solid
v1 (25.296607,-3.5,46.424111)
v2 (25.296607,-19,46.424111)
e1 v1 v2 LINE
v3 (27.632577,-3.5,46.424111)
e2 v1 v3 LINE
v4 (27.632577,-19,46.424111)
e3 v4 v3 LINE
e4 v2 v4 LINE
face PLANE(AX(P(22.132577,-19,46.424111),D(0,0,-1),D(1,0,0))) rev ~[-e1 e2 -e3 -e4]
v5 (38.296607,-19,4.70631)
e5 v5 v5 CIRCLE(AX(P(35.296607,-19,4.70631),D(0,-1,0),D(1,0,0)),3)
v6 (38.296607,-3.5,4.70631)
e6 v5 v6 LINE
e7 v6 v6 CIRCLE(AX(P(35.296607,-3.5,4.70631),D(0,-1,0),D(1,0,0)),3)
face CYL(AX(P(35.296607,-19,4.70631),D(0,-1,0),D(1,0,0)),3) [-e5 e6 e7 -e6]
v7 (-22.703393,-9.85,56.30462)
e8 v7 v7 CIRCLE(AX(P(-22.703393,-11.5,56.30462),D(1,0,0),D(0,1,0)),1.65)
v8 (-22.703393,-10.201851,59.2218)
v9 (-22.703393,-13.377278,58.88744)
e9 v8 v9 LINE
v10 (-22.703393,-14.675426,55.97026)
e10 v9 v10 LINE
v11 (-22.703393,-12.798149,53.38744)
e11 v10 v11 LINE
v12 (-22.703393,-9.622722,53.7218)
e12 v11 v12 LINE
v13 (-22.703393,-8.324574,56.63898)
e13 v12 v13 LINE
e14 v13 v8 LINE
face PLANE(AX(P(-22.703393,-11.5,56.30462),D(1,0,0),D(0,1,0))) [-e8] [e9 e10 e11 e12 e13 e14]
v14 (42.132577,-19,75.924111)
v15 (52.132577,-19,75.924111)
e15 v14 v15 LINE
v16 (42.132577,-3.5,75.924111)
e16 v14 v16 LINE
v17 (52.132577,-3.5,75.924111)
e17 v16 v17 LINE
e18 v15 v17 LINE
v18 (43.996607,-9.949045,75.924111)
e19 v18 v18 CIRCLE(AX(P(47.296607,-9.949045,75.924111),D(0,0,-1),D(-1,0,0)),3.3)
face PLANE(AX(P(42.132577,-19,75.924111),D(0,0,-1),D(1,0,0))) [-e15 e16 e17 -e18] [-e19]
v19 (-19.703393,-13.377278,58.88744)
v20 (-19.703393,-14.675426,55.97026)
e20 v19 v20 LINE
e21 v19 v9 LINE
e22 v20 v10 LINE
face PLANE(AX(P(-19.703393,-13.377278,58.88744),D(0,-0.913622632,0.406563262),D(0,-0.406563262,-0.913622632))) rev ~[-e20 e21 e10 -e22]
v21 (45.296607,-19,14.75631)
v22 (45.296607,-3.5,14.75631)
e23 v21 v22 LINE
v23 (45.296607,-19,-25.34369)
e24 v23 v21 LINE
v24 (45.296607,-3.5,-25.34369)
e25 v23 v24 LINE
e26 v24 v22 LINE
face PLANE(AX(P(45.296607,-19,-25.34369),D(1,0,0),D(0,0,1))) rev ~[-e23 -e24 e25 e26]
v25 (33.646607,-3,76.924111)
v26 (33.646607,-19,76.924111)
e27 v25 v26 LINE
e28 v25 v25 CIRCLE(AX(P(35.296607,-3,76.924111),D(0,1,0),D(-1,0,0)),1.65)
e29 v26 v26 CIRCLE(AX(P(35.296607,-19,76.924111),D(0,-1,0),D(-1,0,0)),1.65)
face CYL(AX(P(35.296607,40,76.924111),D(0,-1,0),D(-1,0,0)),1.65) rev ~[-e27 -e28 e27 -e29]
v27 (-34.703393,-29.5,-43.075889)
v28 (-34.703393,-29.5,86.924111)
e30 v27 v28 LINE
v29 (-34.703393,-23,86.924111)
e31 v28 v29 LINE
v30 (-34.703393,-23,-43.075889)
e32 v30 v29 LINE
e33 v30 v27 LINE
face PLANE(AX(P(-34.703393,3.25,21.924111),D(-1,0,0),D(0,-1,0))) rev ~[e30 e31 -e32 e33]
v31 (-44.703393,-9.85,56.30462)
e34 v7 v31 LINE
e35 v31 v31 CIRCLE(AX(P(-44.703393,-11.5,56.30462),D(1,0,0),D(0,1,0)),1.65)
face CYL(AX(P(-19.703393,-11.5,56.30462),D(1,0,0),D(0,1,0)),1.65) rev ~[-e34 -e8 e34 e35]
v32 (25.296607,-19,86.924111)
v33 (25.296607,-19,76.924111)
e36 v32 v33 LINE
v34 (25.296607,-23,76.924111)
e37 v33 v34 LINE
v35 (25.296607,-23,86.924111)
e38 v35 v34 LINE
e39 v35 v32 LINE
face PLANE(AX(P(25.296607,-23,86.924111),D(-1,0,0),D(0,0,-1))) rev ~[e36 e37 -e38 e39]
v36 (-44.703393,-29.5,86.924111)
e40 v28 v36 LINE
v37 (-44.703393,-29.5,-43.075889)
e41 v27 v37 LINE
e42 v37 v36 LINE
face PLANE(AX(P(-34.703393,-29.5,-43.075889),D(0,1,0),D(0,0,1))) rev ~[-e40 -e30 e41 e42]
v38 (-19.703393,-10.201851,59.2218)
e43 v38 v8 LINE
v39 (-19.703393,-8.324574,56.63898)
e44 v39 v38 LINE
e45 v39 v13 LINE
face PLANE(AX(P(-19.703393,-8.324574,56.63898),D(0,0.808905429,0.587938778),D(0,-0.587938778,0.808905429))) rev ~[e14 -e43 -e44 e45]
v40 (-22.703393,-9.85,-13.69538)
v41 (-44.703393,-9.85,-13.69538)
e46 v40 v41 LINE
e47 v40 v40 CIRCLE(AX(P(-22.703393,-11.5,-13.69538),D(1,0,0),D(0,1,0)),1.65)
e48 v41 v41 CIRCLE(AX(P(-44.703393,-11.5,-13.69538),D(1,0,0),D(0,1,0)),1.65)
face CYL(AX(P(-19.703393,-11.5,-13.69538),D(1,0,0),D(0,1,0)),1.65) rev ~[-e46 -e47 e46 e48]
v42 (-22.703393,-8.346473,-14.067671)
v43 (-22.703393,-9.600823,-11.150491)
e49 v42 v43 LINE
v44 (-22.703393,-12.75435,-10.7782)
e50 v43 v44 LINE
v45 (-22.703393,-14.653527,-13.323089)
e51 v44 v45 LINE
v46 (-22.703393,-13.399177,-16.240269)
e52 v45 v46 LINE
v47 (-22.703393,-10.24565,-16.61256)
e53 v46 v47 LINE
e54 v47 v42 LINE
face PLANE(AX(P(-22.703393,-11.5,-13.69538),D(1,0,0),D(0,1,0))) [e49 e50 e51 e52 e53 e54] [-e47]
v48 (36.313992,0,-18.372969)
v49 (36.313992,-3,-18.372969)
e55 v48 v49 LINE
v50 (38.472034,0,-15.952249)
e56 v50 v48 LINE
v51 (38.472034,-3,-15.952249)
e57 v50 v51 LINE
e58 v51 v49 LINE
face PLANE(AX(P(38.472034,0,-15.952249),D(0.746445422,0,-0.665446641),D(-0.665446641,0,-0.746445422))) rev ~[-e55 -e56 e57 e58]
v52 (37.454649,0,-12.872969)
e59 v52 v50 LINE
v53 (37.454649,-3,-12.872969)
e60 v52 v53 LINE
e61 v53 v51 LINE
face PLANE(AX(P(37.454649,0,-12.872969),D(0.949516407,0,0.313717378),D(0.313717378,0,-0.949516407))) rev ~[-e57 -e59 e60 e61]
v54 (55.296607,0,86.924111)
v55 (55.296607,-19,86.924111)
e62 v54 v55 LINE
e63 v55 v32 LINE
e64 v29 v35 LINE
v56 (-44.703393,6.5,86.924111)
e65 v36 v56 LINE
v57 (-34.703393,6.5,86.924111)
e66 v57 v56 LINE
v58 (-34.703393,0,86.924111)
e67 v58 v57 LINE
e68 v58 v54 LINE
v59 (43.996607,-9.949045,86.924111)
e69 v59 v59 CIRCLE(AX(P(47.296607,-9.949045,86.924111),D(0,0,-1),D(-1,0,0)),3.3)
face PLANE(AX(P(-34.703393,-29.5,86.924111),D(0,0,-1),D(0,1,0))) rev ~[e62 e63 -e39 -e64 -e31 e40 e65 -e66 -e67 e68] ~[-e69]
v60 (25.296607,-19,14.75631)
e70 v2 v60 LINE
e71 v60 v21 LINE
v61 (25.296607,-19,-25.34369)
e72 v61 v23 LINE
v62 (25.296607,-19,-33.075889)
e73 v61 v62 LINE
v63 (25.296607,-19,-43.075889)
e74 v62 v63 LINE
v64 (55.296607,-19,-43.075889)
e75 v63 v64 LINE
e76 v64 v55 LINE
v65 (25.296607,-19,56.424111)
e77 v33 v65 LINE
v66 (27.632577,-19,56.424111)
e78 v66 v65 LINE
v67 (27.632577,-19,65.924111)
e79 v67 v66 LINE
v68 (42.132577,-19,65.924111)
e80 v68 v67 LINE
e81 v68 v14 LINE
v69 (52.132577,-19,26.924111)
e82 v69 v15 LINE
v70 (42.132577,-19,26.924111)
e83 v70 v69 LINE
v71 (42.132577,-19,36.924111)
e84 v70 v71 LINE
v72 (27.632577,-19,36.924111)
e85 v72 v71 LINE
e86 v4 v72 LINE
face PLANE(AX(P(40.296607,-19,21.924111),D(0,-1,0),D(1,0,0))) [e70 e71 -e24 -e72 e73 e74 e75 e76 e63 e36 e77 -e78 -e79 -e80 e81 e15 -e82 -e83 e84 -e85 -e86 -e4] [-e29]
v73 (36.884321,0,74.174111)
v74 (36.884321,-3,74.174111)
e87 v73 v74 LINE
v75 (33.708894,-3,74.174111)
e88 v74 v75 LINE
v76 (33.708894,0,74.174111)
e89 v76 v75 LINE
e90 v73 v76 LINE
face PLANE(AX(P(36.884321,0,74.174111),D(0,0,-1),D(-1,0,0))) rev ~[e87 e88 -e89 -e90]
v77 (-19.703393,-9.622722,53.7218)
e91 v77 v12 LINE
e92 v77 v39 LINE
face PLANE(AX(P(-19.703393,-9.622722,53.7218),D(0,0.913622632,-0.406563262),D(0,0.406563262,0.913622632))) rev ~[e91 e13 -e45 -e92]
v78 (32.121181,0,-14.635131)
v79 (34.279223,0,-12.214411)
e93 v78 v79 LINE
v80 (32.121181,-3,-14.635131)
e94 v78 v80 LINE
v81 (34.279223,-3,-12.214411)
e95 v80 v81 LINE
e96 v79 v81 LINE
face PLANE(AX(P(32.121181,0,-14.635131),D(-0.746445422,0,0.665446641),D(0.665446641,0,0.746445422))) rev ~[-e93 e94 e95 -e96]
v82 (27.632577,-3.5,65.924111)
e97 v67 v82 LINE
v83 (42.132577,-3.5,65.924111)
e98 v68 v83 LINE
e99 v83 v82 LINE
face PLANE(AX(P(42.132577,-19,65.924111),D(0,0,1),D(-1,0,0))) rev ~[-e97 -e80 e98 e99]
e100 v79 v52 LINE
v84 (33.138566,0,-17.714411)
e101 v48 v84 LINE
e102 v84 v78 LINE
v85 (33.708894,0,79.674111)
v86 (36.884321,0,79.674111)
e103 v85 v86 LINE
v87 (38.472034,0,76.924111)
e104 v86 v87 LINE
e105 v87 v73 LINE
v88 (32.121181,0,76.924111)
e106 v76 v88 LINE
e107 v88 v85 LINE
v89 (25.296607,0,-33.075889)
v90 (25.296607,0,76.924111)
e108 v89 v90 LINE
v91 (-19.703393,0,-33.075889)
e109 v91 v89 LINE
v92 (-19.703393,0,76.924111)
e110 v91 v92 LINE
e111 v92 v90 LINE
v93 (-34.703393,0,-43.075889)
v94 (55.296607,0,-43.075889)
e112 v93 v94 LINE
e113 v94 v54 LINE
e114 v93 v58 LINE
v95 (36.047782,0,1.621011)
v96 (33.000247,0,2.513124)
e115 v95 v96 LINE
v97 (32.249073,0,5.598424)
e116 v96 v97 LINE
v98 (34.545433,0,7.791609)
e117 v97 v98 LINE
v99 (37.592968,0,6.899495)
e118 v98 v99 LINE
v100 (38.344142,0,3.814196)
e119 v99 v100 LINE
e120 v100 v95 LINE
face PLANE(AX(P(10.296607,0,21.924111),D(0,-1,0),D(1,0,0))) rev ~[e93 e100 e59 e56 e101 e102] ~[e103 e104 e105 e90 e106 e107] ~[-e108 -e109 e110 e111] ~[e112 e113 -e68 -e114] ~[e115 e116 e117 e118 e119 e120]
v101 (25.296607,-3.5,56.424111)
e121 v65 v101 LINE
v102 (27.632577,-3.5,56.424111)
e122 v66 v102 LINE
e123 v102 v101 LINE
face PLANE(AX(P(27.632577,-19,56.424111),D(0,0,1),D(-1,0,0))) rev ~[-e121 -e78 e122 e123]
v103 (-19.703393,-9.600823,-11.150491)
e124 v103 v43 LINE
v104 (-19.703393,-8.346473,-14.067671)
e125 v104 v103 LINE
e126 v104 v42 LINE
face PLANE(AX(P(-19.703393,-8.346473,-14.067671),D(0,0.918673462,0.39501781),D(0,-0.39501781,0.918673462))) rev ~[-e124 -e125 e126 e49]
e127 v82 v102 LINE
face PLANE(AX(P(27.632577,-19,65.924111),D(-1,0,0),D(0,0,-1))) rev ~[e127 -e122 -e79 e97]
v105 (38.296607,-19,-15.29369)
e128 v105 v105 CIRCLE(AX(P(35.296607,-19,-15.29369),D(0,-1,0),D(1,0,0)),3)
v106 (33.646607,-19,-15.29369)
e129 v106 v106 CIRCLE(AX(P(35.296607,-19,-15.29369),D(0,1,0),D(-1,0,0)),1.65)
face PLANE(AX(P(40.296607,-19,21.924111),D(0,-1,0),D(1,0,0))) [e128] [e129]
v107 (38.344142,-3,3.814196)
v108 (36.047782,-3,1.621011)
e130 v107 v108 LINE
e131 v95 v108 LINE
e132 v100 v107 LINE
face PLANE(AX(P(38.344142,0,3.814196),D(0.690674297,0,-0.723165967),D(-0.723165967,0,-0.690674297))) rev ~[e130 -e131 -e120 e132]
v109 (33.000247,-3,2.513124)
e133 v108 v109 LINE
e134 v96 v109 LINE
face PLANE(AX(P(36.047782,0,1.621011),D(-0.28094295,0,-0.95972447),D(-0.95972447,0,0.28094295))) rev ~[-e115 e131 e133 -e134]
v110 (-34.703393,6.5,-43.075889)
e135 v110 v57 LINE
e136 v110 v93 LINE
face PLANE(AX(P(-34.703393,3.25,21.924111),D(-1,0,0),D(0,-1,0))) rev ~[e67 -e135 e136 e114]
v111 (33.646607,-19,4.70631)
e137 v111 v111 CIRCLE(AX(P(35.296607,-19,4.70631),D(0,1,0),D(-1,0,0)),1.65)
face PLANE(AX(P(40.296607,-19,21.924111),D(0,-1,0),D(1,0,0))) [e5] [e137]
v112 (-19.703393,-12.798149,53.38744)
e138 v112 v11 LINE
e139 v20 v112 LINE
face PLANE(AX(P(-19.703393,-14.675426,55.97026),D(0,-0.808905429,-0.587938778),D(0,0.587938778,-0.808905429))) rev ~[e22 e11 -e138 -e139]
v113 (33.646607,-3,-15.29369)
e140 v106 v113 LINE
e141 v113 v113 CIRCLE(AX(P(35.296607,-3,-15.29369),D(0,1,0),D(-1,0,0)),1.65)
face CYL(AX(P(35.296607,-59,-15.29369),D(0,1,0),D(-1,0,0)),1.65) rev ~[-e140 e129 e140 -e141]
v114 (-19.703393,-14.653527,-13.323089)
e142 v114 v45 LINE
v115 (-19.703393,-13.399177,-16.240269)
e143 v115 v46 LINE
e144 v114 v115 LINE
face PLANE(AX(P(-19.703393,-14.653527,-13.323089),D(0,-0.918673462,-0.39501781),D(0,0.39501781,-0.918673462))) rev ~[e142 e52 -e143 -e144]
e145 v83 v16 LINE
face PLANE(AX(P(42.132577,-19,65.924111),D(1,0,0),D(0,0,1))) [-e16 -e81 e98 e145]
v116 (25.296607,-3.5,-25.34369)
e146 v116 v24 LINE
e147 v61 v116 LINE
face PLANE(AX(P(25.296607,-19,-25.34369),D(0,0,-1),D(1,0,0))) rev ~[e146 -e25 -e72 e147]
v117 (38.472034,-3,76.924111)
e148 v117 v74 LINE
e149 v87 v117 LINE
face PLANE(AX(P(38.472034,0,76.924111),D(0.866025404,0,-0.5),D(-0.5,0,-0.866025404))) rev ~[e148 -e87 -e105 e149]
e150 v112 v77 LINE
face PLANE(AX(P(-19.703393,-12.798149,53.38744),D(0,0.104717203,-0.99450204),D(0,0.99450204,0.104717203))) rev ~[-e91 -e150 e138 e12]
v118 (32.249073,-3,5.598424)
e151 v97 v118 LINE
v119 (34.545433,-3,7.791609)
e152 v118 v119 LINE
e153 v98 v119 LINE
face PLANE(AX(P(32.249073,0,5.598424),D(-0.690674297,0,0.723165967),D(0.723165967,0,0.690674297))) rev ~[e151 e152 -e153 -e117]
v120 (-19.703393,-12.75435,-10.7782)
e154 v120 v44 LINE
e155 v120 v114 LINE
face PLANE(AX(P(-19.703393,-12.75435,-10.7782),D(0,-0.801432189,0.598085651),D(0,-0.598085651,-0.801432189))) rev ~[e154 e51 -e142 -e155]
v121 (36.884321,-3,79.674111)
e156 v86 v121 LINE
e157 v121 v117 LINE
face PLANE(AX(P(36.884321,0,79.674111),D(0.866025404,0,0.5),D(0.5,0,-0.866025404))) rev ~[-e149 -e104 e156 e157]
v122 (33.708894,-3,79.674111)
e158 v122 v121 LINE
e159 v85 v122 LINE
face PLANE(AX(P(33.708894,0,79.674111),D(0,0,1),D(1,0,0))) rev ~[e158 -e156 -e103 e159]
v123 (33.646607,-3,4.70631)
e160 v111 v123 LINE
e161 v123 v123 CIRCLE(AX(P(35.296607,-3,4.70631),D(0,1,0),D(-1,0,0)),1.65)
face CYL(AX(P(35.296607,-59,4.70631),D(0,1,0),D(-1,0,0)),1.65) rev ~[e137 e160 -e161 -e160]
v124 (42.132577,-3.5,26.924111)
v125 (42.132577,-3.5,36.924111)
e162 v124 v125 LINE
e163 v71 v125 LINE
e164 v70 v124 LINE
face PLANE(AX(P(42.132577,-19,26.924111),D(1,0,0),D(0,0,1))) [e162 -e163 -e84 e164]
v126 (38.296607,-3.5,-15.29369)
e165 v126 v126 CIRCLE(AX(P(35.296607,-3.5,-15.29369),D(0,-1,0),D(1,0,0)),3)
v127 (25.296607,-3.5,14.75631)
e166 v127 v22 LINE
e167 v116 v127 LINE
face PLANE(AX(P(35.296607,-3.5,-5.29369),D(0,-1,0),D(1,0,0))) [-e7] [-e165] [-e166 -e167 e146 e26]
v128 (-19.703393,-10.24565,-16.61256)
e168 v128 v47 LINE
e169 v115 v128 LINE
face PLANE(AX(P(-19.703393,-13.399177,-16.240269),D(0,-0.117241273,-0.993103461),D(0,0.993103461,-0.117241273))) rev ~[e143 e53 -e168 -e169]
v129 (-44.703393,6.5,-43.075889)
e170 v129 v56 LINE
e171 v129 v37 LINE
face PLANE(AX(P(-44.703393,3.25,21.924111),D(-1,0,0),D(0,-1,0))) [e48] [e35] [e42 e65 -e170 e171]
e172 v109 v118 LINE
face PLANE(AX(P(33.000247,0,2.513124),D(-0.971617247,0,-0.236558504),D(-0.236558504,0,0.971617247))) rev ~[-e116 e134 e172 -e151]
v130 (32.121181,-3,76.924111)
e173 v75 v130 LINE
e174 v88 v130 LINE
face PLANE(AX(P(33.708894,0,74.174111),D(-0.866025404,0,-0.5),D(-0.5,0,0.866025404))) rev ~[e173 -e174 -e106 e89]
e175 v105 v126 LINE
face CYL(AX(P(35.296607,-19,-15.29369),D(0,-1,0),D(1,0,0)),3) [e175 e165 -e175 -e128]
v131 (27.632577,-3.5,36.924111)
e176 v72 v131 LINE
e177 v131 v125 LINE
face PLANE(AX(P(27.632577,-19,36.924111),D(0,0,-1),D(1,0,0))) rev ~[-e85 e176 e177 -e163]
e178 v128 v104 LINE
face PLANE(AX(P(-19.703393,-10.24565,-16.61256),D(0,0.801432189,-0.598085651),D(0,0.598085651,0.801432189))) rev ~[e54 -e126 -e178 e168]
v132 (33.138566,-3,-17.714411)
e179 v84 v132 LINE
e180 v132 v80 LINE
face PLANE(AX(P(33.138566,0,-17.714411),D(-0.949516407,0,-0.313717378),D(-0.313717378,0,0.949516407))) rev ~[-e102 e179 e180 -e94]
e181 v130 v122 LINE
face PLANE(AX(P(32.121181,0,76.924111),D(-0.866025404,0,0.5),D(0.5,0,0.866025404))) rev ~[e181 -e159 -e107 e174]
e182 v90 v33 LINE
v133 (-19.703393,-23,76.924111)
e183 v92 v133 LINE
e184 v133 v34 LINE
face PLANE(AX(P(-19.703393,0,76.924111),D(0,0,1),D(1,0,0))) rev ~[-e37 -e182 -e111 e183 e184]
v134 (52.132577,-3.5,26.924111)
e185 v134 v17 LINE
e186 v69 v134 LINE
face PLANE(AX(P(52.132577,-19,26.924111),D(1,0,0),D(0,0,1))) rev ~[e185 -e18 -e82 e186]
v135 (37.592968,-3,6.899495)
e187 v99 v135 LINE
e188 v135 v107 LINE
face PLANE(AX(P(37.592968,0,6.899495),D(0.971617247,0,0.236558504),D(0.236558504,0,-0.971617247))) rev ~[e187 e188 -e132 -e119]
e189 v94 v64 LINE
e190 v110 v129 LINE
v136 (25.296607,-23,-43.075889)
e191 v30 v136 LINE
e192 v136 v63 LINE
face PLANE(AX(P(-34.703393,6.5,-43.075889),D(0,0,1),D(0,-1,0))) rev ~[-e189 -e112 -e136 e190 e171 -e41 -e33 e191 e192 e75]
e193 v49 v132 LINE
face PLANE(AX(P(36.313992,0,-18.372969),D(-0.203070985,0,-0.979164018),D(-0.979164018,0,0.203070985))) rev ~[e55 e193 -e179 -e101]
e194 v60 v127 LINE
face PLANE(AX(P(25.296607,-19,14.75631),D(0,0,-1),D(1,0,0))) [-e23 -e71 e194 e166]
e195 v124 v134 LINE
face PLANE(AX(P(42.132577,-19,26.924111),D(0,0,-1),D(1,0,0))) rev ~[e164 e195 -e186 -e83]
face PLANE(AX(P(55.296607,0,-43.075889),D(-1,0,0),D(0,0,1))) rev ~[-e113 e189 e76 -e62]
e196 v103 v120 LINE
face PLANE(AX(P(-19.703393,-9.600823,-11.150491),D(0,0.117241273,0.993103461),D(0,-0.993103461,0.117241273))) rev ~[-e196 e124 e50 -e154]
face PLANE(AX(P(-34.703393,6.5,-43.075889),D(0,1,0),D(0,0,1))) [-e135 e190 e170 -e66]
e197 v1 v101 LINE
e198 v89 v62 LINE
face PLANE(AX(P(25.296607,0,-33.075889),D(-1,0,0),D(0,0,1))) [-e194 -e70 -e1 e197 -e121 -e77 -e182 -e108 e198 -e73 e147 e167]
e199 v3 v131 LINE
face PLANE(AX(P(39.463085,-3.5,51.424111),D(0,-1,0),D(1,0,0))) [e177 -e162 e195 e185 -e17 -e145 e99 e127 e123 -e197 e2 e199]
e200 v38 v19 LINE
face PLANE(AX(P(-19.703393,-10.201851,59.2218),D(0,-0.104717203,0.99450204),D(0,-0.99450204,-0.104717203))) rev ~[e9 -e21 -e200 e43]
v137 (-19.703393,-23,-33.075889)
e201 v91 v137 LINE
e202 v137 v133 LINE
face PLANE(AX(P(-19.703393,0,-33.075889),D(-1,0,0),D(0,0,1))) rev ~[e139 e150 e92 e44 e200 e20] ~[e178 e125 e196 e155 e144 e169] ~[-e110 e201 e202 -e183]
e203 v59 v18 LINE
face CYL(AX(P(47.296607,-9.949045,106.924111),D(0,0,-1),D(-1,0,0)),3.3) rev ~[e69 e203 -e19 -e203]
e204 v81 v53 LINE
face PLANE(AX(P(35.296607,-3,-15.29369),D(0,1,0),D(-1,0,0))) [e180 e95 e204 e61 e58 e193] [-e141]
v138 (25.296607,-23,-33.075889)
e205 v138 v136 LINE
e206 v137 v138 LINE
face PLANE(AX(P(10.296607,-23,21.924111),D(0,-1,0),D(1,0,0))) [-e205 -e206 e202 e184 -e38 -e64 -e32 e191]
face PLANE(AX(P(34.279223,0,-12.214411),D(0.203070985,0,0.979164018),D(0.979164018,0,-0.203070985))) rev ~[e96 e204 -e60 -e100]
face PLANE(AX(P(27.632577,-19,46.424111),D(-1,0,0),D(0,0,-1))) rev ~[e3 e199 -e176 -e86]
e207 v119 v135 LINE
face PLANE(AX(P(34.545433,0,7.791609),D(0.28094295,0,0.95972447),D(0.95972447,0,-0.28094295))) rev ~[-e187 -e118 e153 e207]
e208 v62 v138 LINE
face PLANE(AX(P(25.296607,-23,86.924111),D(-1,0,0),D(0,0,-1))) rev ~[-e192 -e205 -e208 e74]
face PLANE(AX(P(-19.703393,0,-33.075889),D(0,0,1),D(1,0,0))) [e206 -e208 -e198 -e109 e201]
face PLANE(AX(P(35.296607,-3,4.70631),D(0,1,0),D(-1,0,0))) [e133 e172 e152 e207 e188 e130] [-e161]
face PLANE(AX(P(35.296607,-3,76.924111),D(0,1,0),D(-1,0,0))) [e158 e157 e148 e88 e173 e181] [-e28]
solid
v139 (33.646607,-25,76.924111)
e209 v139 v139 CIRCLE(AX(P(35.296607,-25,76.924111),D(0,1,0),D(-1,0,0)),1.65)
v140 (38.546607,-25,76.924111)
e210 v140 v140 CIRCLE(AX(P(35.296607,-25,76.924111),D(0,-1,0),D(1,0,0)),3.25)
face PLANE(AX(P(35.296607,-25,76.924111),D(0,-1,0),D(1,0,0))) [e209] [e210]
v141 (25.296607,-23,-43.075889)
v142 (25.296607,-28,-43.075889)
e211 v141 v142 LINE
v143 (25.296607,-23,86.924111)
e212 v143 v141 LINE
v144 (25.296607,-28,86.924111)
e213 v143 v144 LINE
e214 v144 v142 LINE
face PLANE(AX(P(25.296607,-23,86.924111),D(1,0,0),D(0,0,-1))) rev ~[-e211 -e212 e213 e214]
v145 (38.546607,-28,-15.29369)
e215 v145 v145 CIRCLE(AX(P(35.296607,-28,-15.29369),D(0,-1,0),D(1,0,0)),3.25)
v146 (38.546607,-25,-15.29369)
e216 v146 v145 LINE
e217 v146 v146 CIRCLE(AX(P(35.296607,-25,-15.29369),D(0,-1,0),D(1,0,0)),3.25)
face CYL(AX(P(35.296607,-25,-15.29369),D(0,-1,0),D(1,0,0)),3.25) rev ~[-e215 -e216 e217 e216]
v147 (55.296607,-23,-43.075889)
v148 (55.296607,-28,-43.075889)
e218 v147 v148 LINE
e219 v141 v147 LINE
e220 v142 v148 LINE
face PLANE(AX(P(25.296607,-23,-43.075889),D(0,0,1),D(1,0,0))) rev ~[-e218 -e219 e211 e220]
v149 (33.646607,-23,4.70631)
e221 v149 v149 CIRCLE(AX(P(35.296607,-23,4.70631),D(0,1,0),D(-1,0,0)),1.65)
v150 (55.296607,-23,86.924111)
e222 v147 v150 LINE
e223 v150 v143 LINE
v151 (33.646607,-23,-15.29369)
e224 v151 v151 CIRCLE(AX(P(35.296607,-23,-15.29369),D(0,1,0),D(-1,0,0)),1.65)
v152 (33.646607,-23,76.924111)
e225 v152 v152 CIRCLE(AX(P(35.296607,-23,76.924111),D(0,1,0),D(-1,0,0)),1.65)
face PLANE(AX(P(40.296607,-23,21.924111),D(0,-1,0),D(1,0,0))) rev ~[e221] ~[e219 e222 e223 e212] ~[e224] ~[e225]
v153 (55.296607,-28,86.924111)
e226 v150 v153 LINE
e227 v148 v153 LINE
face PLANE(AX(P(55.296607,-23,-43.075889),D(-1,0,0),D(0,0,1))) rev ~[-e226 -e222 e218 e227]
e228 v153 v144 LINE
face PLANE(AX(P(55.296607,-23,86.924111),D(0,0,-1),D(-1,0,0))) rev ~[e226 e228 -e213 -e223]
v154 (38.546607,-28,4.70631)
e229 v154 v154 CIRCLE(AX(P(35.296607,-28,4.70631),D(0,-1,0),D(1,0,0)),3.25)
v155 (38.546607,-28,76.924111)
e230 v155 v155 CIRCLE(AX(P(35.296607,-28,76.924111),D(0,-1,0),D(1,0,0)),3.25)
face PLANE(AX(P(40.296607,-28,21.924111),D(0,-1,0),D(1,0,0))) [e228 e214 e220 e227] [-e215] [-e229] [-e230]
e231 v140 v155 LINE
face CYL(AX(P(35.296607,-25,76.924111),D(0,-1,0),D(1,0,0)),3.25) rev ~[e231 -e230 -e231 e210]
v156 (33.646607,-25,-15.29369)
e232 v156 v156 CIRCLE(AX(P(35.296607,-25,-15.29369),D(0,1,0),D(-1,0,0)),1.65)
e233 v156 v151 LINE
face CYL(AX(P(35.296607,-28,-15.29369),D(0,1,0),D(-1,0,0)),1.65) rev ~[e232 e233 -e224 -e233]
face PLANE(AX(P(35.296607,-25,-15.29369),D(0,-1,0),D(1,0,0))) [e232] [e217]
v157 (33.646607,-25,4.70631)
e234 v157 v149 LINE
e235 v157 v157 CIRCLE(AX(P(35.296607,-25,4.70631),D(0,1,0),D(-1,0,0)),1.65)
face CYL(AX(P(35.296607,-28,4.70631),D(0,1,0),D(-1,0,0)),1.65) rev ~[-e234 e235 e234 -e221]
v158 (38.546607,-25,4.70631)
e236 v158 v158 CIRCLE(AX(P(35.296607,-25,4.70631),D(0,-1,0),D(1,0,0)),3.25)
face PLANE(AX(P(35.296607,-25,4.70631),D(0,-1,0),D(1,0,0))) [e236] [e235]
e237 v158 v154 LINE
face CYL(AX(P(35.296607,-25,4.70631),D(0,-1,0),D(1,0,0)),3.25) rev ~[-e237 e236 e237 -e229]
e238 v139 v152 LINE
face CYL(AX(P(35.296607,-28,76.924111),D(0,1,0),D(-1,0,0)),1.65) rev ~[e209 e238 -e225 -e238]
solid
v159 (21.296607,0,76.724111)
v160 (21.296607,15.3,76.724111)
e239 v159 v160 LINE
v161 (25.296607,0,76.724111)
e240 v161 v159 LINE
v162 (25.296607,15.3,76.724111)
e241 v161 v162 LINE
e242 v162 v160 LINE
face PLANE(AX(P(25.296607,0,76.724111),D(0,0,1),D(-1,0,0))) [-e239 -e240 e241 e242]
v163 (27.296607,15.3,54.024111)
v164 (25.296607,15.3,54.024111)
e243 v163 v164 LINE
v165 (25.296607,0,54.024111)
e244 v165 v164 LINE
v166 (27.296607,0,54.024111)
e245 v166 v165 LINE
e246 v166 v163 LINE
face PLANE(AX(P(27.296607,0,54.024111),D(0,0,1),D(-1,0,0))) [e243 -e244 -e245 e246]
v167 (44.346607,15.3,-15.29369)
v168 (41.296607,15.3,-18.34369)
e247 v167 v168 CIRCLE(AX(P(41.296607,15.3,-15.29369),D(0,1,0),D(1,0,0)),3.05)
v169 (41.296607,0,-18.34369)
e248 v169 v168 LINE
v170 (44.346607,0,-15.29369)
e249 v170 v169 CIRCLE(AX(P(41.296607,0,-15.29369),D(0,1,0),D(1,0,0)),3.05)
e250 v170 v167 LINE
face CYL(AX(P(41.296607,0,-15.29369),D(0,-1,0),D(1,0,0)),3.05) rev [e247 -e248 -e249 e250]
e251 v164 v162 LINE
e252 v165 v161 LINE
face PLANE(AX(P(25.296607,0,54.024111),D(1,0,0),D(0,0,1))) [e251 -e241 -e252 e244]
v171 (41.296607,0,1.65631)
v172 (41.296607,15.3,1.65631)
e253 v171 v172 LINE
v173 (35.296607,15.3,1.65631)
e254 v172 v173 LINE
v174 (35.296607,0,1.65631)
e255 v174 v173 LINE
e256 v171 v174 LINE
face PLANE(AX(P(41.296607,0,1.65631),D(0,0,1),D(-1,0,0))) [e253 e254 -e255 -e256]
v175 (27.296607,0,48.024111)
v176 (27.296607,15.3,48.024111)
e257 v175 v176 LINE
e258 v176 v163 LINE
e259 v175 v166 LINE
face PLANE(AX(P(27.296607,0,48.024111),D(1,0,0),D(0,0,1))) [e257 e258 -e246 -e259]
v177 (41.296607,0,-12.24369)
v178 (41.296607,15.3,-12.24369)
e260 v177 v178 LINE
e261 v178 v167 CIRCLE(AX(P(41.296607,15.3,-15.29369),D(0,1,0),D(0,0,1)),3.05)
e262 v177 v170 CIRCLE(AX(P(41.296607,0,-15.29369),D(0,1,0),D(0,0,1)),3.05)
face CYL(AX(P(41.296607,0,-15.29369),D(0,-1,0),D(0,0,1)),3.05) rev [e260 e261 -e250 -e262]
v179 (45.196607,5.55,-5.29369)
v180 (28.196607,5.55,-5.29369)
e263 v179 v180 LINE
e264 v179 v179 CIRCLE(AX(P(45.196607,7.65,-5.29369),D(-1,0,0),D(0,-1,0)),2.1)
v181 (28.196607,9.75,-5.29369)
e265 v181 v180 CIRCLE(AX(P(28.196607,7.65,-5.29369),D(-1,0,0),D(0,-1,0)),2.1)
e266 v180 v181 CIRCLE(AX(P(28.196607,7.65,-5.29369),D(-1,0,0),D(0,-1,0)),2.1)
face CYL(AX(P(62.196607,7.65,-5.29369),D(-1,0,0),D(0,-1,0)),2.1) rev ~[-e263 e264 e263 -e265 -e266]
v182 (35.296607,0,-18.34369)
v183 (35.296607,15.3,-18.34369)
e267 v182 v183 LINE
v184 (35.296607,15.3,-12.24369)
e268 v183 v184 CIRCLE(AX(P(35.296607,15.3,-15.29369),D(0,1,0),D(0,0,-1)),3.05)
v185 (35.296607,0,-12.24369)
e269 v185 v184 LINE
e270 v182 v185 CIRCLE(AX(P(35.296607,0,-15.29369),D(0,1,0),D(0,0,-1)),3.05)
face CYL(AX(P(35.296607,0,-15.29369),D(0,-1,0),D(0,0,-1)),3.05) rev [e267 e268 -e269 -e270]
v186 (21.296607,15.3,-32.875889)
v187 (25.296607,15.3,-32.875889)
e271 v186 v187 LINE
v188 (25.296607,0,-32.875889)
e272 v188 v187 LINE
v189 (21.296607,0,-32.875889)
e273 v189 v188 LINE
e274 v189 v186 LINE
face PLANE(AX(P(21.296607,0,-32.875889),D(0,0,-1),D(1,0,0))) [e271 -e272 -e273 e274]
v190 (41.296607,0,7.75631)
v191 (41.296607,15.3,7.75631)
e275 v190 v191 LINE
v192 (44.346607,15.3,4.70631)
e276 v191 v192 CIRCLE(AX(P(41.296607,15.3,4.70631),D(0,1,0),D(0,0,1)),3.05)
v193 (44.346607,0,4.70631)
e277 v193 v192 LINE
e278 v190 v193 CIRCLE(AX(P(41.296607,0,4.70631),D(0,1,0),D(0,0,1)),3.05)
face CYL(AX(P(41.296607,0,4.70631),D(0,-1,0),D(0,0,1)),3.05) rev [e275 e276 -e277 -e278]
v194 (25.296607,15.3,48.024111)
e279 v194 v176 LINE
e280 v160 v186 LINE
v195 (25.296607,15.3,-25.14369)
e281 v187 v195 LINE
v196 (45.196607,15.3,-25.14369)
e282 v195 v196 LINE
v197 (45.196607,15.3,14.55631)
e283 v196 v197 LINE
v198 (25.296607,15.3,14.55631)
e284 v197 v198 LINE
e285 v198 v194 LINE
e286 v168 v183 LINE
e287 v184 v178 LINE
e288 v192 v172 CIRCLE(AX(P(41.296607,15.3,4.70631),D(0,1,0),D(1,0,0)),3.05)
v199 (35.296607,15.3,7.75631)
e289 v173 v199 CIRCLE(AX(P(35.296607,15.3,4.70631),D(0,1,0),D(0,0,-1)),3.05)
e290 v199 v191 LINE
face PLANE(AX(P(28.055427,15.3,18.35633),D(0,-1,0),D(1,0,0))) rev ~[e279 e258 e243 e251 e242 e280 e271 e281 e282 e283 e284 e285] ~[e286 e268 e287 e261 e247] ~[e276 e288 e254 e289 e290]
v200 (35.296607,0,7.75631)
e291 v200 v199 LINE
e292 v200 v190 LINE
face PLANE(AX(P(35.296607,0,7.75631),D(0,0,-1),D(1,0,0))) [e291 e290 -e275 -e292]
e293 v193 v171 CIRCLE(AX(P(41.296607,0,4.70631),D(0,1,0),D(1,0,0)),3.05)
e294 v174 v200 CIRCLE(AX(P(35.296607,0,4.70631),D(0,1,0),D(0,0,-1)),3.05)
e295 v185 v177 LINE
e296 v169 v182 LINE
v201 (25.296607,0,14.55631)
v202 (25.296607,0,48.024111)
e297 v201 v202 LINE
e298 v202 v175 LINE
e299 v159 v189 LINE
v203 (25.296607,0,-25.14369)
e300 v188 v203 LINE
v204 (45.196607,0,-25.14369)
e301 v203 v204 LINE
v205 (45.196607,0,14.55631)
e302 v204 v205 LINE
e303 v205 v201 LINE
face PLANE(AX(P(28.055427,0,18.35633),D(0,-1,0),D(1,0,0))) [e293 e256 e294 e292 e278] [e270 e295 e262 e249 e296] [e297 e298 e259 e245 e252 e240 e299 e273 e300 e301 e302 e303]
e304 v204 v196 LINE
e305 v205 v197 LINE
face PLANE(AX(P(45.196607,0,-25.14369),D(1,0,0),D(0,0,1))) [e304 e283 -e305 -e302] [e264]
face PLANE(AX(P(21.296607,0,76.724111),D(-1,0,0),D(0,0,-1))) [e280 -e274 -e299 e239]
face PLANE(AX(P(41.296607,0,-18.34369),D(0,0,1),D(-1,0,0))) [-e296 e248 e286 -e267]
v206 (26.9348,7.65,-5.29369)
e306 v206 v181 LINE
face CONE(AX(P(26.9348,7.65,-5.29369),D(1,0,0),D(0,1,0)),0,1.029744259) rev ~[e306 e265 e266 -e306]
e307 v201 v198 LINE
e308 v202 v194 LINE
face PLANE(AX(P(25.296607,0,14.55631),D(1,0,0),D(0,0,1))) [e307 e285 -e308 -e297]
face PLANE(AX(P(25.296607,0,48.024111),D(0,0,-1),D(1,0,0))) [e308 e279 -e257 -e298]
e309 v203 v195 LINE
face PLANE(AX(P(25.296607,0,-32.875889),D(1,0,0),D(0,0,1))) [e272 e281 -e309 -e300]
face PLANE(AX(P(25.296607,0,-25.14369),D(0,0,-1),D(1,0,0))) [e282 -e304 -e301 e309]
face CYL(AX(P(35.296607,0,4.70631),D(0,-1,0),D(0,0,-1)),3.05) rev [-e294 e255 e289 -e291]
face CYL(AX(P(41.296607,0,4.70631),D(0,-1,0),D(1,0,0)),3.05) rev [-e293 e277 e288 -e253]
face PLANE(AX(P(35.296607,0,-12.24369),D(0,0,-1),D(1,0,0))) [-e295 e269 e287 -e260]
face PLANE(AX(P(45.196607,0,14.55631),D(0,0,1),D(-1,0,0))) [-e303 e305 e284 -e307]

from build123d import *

# Parameters (mm, degrees)
F0_W            = 90
F0_H            = 130
F0_W_2          = 45
F0_H_2          = 110
F1_DEPTH        = 23
F2_W            = 6.5
F2_H            = 130
F2_W_2          = 23
F3_DEPTH        = 10
F5_DEPTH        = 4
F6_W            = 5.5
F6_H            = 10
F6_W_2          = 3.1640307605
F6_W_3          = 2.3359692395
F6_W_4          = 10
F6_W_5          = 20
F6_H_2          = 40.1
F6_R            = 3
F7_DEPTH        = 15.5
F9_D            = 3.3
F9_DEPTH        = 40
F9_TIP          = 0.9914200214
F10_D           = 3.3
F10_DEPTH       = 40
F10_TIP         = 0.9914200214
F12_D           = 3.3
F12_DEPTH       = 40
F12_TIP         = 0.9914200214
F14_DEPTH       = 15.3
F15_DEPTH       = 5
F17_D           = 3.3
F17_DEPTH       = 40
F17_CBORE_D     = 6.5
F17_CBORE_DEPTH = 3
F17_TIP         = 0.9914200214
F19_D           = 6.6
F19_DEPTH       = 20
F19_TIP         = 1.9828400428
F20_R           = 1.65
F21_DEPTH       = 3
F22_R           = 1.65
F23_DEPTH       = 3
F25_D           = 4.2
F25_DEPTH       = 17
F25_TIP         = 1.2618073


with BuildPart() as f1:
    # F0 (on Front) → F1 (new body)
    with BuildSketch(Plane.XZ):
        with Locations((10.2966074646, 21.924110651)):
            Rectangle(F0_W, F0_H)
        with Locations((2.7966074646, 21.924110651)):
            Rectangle(F0_W_2, F0_H_2, mode=Mode.SUBTRACT)
    extrude(amount=F1_DEPTH)

    # F2 (on face) → F3 (join)
    with BuildSketch(Plane(origin=(-34.7033925354, 0, 0), x_dir=(0, -1, 0), z_dir=(-1, 0, 0))):
        with Locations((-3.25, 21.924110651)):
            Rectangle(F2_W, F2_H)
        with Locations((11.5, 21.924110651)):
            Rectangle(F2_W_2, F2_H)
        with Locations((26.25, 21.924110651)):
            Rectangle(F2_W, F2_H)
    extrude(amount=F3_DEPTH)

    # F4 (on face) → F5 (cut)
    with BuildSketch(Plane.XZ.offset(23)):
        Polygon((55.2966074646, -43.075889349), (55.2966074646, 86.924110651), (25.2966074646, 86.924110651), (25.2966074646, 76.924110651), (25.2966074646, -33.075889349), (25.2966074646, -43.075889349), align=None)
    extrude(amount=-F5_DEPTH, mode=Mode.SUBTRACT)

    # F6 (on face) → F7 (cut)
    with BuildSketch(Plane.XZ.offset(19)):
        Polygon((42.132576704, 65.924110651), (27.632576704, 65.924110651), (27.632576704, 56.424110651), (33.132576704, 56.424110651), (33.132576704, 46.424110651), (27.632576704, 46.424110651), (27.632576704, 36.924110651), (42.132576704, 36.924110651), (52.132576704, 36.924110651), (52.132576704, 65.924110651), align=None)
        with Locations((30.382576704, 51.424110651)):
            Rectangle(F6_W, F6_H)
        with Locations((23.7145920843, 51.424110651)):
            Rectangle(F6_W_2, F6_H)
        with Locations((26.4645920843, 51.424110651)):
            Rectangle(F6_W_3, F6_H)
        with Locations((47.132576704, 70.924110651)):
            Rectangle(F6_W_4, F6_H)
        with Locations((47.132576704, 31.924110651)):
            Rectangle(F6_W_4, F6_H)
        with Locations((35.2966074646, -5.2936900675)):
            Rectangle(F6_W_5, F6_H_2)
        with Locations((35.2966074646, -15.2936900675)):
            Circle(F6_R, mode=Mode.SUBTRACT)
        with Locations((35.2966074646, 4.7063099325)):
            Circle(F6_R, mode=Mode.SUBTRACT)
    extrude(amount=-F7_DEPTH, mode=Mode.SUBTRACT)

    # F9
    with Locations(Plane.XZ.offset(19)):
        with Locations((35.2966074646, 4.7063099325), (35.2966074646, -15.2936900675)):
            Hole(F9_D / 2, depth=F9_DEPTH)
            with Locations((0, 0, -(F9_DEPTH + F9_TIP / 2))):  # 118° drill point
                Cone(0, F9_D / 2, F9_TIP, mode=Mode.SUBTRACT)

    # F10
    with Locations(Plane(origin=(0, 0, 0), x_dir=(1, 0, 0), z_dir=(0, 1, 0))):
        with Locations((35.2966074646, -76.924110651)):
            Hole(F10_D / 2, depth=F10_DEPTH)
            with Locations((0, 0, -(F10_DEPTH + F10_TIP / 2))):  # 118° drill point
                Cone(0, F10_D / 2, F10_TIP, mode=Mode.SUBTRACT)

    # F12 (one way)
    with BuildSketch(Plane.YZ.offset(-19.7033925354)):
        with Locations((-11.5, 56.3046197238), (-11.5, -13.6953802762)):
            Circle(F12_D / 2)
    extrude(amount=-F12_DEPTH, mode=Mode.SUBTRACT)
    with Locations(Plane.YZ.offset(-19.7033925354)):
        with Locations((-11.5, 56.3046197238), (-11.5, -13.6953802762)):
            with Locations((0, 0, -(F12_DEPTH + F12_TIP / 2))):  # 118° drill point
                Cone(0, F12_D / 2, F12_TIP, mode=Mode.SUBTRACT)

    # F19
    with Locations(Plane.XY.offset(86.924110651)):
        with Locations((47.2966074646, -9.9490452558)):
            Hole(F19_D / 2, depth=F19_DEPTH)
            with Locations((0, 0, -(F19_DEPTH + F19_TIP / 2))):  # 118° drill point
                Cone(0, F19_D / 2, F19_TIP, mode=Mode.SUBTRACT)

    # F20 (on face) → F21 (cut)
    with BuildSketch(Plane(origin=(0, 0, 0), x_dir=(-1, 0, 0), z_dir=(0, 1, 0))):
        Polygon((-32.2490729675, 5.5984236151), (-34.5454333283, 7.7916090671), (-37.5929678253, 6.8994953845), (-38.3441419616, 3.8141962498), (-36.0477816008, 1.6210107978), (-33.0002471038, 2.5131244805), align=None)
        with Locations((-35.2966074646, 4.7063099325)):
            Circle(F20_R, mode=Mode.SUBTRACT)
        Polygon((-32.121180984, -14.6351313678), (-34.2792227881, -12.2144107177), (-37.4546492687, -12.8729694174), (-38.4720339451, -15.9522487673), (-36.313992141, -18.3729694174), (-33.1385656604, -17.7144107177), align=None)
        with Locations((-35.2966074646, -15.2936900675)):
            Circle(F20_R, mode=Mode.SUBTRACT)
        Polygon((-36.8843207048, 74.174110651), (-33.7088942243, 74.174110651), (-32.121180984, 76.924110651), (-33.7088942243, 79.674110651), (-36.8843207048, 79.674110651), (-38.4720339451, 76.924110651), align=None)
        with Locations((-35.2966074646, 76.924110651)):
            Circle(F20_R, mode=Mode.SUBTRACT)
    extrude(amount=-F21_DEPTH, mode=Mode.SUBTRACT)

    # F22 (on face) → F23 (cut)
    with BuildSketch(Plane.YZ.offset(-19.7033925354)):
        Polygon((-9.6227224396, 53.7217997619), (-8.3245735195, 56.6389798001), (-10.2018510798, 59.2217997619), (-13.3772775604, 58.8874396856), (-14.6754264805, 55.9702596474), (-12.7981489202, 53.3874396856), align=None)
        with Locations((-11.5, 56.3046197238)):
            Circle(F22_R, mode=Mode.SUBTRACT)
        Polygon((-8.3464729724, -14.0676713177), (-9.6008229867, -11.1504912796), (-12.7543500143, -10.7782002381), (-14.6535270276, -13.3230892347), (-13.3991770133, -16.2402692729), (-10.2456499857, -16.6125603144), align=None)
        with Locations((-11.5, -13.6953802762)):
            Circle(F22_R, mode=Mode.SUBTRACT)
    extrude(amount=-F23_DEPTH, mode=Mode.SUBTRACT)


with BuildPart() as f14:
    # F13 (on Front) → F14 (new body)
    with BuildSketch(Plane.XZ):
        Polygon((25.2966074646, 54.024110651), (25.2966074646, 76.724110651), (21.2966074646, 76.724110651), (21.2966074646, 48.024110651), (21.2966074646, -32.875889349), (25.2966074646, -32.875889349), (25.2966074646, -25.1436900675), (45.1966074646, -25.1436900675), (45.1966074646, 14.5563099325), (25.2966074646, 14.5563099325), (25.2966074646, 48.024110651), (27.2966074646, 48.024110651), (27.2966074646, 54.024110651), align=None)
        with BuildLine():
            ThreePointArc((41.2966074646, -12.2436900675), (43.4532831472, -13.1370143849), (44.3466074646, -15.2936900675))
            ThreePointArc((44.3466074646, -15.2936900675), (43.4532831472, -17.4503657501), (41.2966074646, -18.3436900675))
            Line((41.2966074646, -18.3436900675), (35.2966074646, -18.3436900675))
            ThreePointArc((35.2966074646, -18.3436900675), (32.2466074646, -15.2936900675), (35.2966074646, -12.2436900675))
            Line((35.2966074646, -12.2436900675), (41.2966074646, -12.2436900675))
        make_face(mode=Mode.SUBTRACT)
        with BuildLine():
            ThreePointArc((41.2966074646, 7.7563099325), (43.4532831472, 6.8629856151), (44.3466074646, 4.7063099325))
            ThreePointArc((44.3466074646, 4.7063099325), (43.4532831472, 2.5496342499), (41.2966074646, 1.6563099325))
            Line((41.2966074646, 1.6563099325), (35.2966074646, 1.6563099325))
            ThreePointArc((35.2966074646, 1.6563099325), (32.2466074646, 4.7063099325), (35.2966074646, 7.7563099325))
            Line((35.2966074646, 7.7563099325), (41.2966074646, 7.7563099325))
        make_face(mode=Mode.SUBTRACT)
    extrude(amount=-F14_DEPTH)

    # F25
    with Locations(Plane.YZ.offset(45.1966074646)):
        with Locations((7.65, -5.2936900675)):
            Hole(F25_D / 2, depth=F25_DEPTH)
            with Locations((0, 0, -(F25_DEPTH + F25_TIP / 2))):  # 118° drill point
                Cone(0, F25_D / 2, F25_TIP, mode=Mode.SUBTRACT)


with BuildPart() as f15:
    # F4 (on face) → F15 (new body)
    with BuildSketch(Plane.XZ.offset(23)):
        Polygon((55.2966074646, -43.075889349), (55.2966074646, 86.924110651), (25.2966074646, 86.924110651), (25.2966074646, 76.924110651), (25.2966074646, -33.075889349), (25.2966074646, -43.075889349), align=None)
    extrude(amount=F15_DEPTH)

    # F17
    with Locations(Plane.XZ.offset(28)):
        with Locations((35.2966074646, 76.924110651), (35.2966074646, 4.7063099325), (35.2966074646, -15.2936900675)):
            CounterBoreHole(F17_D / 2, F17_CBORE_D / 2, F17_CBORE_DEPTH, depth=F17_DEPTH)
            with Locations((0, 0, -(F17_DEPTH + F17_TIP / 2))):  # 118° drill point
                Cone(0, F17_D / 2, F17_TIP, mode=Mode.SUBTRACT)


solid = Compound([f1.part, f14.part, f15.part])
